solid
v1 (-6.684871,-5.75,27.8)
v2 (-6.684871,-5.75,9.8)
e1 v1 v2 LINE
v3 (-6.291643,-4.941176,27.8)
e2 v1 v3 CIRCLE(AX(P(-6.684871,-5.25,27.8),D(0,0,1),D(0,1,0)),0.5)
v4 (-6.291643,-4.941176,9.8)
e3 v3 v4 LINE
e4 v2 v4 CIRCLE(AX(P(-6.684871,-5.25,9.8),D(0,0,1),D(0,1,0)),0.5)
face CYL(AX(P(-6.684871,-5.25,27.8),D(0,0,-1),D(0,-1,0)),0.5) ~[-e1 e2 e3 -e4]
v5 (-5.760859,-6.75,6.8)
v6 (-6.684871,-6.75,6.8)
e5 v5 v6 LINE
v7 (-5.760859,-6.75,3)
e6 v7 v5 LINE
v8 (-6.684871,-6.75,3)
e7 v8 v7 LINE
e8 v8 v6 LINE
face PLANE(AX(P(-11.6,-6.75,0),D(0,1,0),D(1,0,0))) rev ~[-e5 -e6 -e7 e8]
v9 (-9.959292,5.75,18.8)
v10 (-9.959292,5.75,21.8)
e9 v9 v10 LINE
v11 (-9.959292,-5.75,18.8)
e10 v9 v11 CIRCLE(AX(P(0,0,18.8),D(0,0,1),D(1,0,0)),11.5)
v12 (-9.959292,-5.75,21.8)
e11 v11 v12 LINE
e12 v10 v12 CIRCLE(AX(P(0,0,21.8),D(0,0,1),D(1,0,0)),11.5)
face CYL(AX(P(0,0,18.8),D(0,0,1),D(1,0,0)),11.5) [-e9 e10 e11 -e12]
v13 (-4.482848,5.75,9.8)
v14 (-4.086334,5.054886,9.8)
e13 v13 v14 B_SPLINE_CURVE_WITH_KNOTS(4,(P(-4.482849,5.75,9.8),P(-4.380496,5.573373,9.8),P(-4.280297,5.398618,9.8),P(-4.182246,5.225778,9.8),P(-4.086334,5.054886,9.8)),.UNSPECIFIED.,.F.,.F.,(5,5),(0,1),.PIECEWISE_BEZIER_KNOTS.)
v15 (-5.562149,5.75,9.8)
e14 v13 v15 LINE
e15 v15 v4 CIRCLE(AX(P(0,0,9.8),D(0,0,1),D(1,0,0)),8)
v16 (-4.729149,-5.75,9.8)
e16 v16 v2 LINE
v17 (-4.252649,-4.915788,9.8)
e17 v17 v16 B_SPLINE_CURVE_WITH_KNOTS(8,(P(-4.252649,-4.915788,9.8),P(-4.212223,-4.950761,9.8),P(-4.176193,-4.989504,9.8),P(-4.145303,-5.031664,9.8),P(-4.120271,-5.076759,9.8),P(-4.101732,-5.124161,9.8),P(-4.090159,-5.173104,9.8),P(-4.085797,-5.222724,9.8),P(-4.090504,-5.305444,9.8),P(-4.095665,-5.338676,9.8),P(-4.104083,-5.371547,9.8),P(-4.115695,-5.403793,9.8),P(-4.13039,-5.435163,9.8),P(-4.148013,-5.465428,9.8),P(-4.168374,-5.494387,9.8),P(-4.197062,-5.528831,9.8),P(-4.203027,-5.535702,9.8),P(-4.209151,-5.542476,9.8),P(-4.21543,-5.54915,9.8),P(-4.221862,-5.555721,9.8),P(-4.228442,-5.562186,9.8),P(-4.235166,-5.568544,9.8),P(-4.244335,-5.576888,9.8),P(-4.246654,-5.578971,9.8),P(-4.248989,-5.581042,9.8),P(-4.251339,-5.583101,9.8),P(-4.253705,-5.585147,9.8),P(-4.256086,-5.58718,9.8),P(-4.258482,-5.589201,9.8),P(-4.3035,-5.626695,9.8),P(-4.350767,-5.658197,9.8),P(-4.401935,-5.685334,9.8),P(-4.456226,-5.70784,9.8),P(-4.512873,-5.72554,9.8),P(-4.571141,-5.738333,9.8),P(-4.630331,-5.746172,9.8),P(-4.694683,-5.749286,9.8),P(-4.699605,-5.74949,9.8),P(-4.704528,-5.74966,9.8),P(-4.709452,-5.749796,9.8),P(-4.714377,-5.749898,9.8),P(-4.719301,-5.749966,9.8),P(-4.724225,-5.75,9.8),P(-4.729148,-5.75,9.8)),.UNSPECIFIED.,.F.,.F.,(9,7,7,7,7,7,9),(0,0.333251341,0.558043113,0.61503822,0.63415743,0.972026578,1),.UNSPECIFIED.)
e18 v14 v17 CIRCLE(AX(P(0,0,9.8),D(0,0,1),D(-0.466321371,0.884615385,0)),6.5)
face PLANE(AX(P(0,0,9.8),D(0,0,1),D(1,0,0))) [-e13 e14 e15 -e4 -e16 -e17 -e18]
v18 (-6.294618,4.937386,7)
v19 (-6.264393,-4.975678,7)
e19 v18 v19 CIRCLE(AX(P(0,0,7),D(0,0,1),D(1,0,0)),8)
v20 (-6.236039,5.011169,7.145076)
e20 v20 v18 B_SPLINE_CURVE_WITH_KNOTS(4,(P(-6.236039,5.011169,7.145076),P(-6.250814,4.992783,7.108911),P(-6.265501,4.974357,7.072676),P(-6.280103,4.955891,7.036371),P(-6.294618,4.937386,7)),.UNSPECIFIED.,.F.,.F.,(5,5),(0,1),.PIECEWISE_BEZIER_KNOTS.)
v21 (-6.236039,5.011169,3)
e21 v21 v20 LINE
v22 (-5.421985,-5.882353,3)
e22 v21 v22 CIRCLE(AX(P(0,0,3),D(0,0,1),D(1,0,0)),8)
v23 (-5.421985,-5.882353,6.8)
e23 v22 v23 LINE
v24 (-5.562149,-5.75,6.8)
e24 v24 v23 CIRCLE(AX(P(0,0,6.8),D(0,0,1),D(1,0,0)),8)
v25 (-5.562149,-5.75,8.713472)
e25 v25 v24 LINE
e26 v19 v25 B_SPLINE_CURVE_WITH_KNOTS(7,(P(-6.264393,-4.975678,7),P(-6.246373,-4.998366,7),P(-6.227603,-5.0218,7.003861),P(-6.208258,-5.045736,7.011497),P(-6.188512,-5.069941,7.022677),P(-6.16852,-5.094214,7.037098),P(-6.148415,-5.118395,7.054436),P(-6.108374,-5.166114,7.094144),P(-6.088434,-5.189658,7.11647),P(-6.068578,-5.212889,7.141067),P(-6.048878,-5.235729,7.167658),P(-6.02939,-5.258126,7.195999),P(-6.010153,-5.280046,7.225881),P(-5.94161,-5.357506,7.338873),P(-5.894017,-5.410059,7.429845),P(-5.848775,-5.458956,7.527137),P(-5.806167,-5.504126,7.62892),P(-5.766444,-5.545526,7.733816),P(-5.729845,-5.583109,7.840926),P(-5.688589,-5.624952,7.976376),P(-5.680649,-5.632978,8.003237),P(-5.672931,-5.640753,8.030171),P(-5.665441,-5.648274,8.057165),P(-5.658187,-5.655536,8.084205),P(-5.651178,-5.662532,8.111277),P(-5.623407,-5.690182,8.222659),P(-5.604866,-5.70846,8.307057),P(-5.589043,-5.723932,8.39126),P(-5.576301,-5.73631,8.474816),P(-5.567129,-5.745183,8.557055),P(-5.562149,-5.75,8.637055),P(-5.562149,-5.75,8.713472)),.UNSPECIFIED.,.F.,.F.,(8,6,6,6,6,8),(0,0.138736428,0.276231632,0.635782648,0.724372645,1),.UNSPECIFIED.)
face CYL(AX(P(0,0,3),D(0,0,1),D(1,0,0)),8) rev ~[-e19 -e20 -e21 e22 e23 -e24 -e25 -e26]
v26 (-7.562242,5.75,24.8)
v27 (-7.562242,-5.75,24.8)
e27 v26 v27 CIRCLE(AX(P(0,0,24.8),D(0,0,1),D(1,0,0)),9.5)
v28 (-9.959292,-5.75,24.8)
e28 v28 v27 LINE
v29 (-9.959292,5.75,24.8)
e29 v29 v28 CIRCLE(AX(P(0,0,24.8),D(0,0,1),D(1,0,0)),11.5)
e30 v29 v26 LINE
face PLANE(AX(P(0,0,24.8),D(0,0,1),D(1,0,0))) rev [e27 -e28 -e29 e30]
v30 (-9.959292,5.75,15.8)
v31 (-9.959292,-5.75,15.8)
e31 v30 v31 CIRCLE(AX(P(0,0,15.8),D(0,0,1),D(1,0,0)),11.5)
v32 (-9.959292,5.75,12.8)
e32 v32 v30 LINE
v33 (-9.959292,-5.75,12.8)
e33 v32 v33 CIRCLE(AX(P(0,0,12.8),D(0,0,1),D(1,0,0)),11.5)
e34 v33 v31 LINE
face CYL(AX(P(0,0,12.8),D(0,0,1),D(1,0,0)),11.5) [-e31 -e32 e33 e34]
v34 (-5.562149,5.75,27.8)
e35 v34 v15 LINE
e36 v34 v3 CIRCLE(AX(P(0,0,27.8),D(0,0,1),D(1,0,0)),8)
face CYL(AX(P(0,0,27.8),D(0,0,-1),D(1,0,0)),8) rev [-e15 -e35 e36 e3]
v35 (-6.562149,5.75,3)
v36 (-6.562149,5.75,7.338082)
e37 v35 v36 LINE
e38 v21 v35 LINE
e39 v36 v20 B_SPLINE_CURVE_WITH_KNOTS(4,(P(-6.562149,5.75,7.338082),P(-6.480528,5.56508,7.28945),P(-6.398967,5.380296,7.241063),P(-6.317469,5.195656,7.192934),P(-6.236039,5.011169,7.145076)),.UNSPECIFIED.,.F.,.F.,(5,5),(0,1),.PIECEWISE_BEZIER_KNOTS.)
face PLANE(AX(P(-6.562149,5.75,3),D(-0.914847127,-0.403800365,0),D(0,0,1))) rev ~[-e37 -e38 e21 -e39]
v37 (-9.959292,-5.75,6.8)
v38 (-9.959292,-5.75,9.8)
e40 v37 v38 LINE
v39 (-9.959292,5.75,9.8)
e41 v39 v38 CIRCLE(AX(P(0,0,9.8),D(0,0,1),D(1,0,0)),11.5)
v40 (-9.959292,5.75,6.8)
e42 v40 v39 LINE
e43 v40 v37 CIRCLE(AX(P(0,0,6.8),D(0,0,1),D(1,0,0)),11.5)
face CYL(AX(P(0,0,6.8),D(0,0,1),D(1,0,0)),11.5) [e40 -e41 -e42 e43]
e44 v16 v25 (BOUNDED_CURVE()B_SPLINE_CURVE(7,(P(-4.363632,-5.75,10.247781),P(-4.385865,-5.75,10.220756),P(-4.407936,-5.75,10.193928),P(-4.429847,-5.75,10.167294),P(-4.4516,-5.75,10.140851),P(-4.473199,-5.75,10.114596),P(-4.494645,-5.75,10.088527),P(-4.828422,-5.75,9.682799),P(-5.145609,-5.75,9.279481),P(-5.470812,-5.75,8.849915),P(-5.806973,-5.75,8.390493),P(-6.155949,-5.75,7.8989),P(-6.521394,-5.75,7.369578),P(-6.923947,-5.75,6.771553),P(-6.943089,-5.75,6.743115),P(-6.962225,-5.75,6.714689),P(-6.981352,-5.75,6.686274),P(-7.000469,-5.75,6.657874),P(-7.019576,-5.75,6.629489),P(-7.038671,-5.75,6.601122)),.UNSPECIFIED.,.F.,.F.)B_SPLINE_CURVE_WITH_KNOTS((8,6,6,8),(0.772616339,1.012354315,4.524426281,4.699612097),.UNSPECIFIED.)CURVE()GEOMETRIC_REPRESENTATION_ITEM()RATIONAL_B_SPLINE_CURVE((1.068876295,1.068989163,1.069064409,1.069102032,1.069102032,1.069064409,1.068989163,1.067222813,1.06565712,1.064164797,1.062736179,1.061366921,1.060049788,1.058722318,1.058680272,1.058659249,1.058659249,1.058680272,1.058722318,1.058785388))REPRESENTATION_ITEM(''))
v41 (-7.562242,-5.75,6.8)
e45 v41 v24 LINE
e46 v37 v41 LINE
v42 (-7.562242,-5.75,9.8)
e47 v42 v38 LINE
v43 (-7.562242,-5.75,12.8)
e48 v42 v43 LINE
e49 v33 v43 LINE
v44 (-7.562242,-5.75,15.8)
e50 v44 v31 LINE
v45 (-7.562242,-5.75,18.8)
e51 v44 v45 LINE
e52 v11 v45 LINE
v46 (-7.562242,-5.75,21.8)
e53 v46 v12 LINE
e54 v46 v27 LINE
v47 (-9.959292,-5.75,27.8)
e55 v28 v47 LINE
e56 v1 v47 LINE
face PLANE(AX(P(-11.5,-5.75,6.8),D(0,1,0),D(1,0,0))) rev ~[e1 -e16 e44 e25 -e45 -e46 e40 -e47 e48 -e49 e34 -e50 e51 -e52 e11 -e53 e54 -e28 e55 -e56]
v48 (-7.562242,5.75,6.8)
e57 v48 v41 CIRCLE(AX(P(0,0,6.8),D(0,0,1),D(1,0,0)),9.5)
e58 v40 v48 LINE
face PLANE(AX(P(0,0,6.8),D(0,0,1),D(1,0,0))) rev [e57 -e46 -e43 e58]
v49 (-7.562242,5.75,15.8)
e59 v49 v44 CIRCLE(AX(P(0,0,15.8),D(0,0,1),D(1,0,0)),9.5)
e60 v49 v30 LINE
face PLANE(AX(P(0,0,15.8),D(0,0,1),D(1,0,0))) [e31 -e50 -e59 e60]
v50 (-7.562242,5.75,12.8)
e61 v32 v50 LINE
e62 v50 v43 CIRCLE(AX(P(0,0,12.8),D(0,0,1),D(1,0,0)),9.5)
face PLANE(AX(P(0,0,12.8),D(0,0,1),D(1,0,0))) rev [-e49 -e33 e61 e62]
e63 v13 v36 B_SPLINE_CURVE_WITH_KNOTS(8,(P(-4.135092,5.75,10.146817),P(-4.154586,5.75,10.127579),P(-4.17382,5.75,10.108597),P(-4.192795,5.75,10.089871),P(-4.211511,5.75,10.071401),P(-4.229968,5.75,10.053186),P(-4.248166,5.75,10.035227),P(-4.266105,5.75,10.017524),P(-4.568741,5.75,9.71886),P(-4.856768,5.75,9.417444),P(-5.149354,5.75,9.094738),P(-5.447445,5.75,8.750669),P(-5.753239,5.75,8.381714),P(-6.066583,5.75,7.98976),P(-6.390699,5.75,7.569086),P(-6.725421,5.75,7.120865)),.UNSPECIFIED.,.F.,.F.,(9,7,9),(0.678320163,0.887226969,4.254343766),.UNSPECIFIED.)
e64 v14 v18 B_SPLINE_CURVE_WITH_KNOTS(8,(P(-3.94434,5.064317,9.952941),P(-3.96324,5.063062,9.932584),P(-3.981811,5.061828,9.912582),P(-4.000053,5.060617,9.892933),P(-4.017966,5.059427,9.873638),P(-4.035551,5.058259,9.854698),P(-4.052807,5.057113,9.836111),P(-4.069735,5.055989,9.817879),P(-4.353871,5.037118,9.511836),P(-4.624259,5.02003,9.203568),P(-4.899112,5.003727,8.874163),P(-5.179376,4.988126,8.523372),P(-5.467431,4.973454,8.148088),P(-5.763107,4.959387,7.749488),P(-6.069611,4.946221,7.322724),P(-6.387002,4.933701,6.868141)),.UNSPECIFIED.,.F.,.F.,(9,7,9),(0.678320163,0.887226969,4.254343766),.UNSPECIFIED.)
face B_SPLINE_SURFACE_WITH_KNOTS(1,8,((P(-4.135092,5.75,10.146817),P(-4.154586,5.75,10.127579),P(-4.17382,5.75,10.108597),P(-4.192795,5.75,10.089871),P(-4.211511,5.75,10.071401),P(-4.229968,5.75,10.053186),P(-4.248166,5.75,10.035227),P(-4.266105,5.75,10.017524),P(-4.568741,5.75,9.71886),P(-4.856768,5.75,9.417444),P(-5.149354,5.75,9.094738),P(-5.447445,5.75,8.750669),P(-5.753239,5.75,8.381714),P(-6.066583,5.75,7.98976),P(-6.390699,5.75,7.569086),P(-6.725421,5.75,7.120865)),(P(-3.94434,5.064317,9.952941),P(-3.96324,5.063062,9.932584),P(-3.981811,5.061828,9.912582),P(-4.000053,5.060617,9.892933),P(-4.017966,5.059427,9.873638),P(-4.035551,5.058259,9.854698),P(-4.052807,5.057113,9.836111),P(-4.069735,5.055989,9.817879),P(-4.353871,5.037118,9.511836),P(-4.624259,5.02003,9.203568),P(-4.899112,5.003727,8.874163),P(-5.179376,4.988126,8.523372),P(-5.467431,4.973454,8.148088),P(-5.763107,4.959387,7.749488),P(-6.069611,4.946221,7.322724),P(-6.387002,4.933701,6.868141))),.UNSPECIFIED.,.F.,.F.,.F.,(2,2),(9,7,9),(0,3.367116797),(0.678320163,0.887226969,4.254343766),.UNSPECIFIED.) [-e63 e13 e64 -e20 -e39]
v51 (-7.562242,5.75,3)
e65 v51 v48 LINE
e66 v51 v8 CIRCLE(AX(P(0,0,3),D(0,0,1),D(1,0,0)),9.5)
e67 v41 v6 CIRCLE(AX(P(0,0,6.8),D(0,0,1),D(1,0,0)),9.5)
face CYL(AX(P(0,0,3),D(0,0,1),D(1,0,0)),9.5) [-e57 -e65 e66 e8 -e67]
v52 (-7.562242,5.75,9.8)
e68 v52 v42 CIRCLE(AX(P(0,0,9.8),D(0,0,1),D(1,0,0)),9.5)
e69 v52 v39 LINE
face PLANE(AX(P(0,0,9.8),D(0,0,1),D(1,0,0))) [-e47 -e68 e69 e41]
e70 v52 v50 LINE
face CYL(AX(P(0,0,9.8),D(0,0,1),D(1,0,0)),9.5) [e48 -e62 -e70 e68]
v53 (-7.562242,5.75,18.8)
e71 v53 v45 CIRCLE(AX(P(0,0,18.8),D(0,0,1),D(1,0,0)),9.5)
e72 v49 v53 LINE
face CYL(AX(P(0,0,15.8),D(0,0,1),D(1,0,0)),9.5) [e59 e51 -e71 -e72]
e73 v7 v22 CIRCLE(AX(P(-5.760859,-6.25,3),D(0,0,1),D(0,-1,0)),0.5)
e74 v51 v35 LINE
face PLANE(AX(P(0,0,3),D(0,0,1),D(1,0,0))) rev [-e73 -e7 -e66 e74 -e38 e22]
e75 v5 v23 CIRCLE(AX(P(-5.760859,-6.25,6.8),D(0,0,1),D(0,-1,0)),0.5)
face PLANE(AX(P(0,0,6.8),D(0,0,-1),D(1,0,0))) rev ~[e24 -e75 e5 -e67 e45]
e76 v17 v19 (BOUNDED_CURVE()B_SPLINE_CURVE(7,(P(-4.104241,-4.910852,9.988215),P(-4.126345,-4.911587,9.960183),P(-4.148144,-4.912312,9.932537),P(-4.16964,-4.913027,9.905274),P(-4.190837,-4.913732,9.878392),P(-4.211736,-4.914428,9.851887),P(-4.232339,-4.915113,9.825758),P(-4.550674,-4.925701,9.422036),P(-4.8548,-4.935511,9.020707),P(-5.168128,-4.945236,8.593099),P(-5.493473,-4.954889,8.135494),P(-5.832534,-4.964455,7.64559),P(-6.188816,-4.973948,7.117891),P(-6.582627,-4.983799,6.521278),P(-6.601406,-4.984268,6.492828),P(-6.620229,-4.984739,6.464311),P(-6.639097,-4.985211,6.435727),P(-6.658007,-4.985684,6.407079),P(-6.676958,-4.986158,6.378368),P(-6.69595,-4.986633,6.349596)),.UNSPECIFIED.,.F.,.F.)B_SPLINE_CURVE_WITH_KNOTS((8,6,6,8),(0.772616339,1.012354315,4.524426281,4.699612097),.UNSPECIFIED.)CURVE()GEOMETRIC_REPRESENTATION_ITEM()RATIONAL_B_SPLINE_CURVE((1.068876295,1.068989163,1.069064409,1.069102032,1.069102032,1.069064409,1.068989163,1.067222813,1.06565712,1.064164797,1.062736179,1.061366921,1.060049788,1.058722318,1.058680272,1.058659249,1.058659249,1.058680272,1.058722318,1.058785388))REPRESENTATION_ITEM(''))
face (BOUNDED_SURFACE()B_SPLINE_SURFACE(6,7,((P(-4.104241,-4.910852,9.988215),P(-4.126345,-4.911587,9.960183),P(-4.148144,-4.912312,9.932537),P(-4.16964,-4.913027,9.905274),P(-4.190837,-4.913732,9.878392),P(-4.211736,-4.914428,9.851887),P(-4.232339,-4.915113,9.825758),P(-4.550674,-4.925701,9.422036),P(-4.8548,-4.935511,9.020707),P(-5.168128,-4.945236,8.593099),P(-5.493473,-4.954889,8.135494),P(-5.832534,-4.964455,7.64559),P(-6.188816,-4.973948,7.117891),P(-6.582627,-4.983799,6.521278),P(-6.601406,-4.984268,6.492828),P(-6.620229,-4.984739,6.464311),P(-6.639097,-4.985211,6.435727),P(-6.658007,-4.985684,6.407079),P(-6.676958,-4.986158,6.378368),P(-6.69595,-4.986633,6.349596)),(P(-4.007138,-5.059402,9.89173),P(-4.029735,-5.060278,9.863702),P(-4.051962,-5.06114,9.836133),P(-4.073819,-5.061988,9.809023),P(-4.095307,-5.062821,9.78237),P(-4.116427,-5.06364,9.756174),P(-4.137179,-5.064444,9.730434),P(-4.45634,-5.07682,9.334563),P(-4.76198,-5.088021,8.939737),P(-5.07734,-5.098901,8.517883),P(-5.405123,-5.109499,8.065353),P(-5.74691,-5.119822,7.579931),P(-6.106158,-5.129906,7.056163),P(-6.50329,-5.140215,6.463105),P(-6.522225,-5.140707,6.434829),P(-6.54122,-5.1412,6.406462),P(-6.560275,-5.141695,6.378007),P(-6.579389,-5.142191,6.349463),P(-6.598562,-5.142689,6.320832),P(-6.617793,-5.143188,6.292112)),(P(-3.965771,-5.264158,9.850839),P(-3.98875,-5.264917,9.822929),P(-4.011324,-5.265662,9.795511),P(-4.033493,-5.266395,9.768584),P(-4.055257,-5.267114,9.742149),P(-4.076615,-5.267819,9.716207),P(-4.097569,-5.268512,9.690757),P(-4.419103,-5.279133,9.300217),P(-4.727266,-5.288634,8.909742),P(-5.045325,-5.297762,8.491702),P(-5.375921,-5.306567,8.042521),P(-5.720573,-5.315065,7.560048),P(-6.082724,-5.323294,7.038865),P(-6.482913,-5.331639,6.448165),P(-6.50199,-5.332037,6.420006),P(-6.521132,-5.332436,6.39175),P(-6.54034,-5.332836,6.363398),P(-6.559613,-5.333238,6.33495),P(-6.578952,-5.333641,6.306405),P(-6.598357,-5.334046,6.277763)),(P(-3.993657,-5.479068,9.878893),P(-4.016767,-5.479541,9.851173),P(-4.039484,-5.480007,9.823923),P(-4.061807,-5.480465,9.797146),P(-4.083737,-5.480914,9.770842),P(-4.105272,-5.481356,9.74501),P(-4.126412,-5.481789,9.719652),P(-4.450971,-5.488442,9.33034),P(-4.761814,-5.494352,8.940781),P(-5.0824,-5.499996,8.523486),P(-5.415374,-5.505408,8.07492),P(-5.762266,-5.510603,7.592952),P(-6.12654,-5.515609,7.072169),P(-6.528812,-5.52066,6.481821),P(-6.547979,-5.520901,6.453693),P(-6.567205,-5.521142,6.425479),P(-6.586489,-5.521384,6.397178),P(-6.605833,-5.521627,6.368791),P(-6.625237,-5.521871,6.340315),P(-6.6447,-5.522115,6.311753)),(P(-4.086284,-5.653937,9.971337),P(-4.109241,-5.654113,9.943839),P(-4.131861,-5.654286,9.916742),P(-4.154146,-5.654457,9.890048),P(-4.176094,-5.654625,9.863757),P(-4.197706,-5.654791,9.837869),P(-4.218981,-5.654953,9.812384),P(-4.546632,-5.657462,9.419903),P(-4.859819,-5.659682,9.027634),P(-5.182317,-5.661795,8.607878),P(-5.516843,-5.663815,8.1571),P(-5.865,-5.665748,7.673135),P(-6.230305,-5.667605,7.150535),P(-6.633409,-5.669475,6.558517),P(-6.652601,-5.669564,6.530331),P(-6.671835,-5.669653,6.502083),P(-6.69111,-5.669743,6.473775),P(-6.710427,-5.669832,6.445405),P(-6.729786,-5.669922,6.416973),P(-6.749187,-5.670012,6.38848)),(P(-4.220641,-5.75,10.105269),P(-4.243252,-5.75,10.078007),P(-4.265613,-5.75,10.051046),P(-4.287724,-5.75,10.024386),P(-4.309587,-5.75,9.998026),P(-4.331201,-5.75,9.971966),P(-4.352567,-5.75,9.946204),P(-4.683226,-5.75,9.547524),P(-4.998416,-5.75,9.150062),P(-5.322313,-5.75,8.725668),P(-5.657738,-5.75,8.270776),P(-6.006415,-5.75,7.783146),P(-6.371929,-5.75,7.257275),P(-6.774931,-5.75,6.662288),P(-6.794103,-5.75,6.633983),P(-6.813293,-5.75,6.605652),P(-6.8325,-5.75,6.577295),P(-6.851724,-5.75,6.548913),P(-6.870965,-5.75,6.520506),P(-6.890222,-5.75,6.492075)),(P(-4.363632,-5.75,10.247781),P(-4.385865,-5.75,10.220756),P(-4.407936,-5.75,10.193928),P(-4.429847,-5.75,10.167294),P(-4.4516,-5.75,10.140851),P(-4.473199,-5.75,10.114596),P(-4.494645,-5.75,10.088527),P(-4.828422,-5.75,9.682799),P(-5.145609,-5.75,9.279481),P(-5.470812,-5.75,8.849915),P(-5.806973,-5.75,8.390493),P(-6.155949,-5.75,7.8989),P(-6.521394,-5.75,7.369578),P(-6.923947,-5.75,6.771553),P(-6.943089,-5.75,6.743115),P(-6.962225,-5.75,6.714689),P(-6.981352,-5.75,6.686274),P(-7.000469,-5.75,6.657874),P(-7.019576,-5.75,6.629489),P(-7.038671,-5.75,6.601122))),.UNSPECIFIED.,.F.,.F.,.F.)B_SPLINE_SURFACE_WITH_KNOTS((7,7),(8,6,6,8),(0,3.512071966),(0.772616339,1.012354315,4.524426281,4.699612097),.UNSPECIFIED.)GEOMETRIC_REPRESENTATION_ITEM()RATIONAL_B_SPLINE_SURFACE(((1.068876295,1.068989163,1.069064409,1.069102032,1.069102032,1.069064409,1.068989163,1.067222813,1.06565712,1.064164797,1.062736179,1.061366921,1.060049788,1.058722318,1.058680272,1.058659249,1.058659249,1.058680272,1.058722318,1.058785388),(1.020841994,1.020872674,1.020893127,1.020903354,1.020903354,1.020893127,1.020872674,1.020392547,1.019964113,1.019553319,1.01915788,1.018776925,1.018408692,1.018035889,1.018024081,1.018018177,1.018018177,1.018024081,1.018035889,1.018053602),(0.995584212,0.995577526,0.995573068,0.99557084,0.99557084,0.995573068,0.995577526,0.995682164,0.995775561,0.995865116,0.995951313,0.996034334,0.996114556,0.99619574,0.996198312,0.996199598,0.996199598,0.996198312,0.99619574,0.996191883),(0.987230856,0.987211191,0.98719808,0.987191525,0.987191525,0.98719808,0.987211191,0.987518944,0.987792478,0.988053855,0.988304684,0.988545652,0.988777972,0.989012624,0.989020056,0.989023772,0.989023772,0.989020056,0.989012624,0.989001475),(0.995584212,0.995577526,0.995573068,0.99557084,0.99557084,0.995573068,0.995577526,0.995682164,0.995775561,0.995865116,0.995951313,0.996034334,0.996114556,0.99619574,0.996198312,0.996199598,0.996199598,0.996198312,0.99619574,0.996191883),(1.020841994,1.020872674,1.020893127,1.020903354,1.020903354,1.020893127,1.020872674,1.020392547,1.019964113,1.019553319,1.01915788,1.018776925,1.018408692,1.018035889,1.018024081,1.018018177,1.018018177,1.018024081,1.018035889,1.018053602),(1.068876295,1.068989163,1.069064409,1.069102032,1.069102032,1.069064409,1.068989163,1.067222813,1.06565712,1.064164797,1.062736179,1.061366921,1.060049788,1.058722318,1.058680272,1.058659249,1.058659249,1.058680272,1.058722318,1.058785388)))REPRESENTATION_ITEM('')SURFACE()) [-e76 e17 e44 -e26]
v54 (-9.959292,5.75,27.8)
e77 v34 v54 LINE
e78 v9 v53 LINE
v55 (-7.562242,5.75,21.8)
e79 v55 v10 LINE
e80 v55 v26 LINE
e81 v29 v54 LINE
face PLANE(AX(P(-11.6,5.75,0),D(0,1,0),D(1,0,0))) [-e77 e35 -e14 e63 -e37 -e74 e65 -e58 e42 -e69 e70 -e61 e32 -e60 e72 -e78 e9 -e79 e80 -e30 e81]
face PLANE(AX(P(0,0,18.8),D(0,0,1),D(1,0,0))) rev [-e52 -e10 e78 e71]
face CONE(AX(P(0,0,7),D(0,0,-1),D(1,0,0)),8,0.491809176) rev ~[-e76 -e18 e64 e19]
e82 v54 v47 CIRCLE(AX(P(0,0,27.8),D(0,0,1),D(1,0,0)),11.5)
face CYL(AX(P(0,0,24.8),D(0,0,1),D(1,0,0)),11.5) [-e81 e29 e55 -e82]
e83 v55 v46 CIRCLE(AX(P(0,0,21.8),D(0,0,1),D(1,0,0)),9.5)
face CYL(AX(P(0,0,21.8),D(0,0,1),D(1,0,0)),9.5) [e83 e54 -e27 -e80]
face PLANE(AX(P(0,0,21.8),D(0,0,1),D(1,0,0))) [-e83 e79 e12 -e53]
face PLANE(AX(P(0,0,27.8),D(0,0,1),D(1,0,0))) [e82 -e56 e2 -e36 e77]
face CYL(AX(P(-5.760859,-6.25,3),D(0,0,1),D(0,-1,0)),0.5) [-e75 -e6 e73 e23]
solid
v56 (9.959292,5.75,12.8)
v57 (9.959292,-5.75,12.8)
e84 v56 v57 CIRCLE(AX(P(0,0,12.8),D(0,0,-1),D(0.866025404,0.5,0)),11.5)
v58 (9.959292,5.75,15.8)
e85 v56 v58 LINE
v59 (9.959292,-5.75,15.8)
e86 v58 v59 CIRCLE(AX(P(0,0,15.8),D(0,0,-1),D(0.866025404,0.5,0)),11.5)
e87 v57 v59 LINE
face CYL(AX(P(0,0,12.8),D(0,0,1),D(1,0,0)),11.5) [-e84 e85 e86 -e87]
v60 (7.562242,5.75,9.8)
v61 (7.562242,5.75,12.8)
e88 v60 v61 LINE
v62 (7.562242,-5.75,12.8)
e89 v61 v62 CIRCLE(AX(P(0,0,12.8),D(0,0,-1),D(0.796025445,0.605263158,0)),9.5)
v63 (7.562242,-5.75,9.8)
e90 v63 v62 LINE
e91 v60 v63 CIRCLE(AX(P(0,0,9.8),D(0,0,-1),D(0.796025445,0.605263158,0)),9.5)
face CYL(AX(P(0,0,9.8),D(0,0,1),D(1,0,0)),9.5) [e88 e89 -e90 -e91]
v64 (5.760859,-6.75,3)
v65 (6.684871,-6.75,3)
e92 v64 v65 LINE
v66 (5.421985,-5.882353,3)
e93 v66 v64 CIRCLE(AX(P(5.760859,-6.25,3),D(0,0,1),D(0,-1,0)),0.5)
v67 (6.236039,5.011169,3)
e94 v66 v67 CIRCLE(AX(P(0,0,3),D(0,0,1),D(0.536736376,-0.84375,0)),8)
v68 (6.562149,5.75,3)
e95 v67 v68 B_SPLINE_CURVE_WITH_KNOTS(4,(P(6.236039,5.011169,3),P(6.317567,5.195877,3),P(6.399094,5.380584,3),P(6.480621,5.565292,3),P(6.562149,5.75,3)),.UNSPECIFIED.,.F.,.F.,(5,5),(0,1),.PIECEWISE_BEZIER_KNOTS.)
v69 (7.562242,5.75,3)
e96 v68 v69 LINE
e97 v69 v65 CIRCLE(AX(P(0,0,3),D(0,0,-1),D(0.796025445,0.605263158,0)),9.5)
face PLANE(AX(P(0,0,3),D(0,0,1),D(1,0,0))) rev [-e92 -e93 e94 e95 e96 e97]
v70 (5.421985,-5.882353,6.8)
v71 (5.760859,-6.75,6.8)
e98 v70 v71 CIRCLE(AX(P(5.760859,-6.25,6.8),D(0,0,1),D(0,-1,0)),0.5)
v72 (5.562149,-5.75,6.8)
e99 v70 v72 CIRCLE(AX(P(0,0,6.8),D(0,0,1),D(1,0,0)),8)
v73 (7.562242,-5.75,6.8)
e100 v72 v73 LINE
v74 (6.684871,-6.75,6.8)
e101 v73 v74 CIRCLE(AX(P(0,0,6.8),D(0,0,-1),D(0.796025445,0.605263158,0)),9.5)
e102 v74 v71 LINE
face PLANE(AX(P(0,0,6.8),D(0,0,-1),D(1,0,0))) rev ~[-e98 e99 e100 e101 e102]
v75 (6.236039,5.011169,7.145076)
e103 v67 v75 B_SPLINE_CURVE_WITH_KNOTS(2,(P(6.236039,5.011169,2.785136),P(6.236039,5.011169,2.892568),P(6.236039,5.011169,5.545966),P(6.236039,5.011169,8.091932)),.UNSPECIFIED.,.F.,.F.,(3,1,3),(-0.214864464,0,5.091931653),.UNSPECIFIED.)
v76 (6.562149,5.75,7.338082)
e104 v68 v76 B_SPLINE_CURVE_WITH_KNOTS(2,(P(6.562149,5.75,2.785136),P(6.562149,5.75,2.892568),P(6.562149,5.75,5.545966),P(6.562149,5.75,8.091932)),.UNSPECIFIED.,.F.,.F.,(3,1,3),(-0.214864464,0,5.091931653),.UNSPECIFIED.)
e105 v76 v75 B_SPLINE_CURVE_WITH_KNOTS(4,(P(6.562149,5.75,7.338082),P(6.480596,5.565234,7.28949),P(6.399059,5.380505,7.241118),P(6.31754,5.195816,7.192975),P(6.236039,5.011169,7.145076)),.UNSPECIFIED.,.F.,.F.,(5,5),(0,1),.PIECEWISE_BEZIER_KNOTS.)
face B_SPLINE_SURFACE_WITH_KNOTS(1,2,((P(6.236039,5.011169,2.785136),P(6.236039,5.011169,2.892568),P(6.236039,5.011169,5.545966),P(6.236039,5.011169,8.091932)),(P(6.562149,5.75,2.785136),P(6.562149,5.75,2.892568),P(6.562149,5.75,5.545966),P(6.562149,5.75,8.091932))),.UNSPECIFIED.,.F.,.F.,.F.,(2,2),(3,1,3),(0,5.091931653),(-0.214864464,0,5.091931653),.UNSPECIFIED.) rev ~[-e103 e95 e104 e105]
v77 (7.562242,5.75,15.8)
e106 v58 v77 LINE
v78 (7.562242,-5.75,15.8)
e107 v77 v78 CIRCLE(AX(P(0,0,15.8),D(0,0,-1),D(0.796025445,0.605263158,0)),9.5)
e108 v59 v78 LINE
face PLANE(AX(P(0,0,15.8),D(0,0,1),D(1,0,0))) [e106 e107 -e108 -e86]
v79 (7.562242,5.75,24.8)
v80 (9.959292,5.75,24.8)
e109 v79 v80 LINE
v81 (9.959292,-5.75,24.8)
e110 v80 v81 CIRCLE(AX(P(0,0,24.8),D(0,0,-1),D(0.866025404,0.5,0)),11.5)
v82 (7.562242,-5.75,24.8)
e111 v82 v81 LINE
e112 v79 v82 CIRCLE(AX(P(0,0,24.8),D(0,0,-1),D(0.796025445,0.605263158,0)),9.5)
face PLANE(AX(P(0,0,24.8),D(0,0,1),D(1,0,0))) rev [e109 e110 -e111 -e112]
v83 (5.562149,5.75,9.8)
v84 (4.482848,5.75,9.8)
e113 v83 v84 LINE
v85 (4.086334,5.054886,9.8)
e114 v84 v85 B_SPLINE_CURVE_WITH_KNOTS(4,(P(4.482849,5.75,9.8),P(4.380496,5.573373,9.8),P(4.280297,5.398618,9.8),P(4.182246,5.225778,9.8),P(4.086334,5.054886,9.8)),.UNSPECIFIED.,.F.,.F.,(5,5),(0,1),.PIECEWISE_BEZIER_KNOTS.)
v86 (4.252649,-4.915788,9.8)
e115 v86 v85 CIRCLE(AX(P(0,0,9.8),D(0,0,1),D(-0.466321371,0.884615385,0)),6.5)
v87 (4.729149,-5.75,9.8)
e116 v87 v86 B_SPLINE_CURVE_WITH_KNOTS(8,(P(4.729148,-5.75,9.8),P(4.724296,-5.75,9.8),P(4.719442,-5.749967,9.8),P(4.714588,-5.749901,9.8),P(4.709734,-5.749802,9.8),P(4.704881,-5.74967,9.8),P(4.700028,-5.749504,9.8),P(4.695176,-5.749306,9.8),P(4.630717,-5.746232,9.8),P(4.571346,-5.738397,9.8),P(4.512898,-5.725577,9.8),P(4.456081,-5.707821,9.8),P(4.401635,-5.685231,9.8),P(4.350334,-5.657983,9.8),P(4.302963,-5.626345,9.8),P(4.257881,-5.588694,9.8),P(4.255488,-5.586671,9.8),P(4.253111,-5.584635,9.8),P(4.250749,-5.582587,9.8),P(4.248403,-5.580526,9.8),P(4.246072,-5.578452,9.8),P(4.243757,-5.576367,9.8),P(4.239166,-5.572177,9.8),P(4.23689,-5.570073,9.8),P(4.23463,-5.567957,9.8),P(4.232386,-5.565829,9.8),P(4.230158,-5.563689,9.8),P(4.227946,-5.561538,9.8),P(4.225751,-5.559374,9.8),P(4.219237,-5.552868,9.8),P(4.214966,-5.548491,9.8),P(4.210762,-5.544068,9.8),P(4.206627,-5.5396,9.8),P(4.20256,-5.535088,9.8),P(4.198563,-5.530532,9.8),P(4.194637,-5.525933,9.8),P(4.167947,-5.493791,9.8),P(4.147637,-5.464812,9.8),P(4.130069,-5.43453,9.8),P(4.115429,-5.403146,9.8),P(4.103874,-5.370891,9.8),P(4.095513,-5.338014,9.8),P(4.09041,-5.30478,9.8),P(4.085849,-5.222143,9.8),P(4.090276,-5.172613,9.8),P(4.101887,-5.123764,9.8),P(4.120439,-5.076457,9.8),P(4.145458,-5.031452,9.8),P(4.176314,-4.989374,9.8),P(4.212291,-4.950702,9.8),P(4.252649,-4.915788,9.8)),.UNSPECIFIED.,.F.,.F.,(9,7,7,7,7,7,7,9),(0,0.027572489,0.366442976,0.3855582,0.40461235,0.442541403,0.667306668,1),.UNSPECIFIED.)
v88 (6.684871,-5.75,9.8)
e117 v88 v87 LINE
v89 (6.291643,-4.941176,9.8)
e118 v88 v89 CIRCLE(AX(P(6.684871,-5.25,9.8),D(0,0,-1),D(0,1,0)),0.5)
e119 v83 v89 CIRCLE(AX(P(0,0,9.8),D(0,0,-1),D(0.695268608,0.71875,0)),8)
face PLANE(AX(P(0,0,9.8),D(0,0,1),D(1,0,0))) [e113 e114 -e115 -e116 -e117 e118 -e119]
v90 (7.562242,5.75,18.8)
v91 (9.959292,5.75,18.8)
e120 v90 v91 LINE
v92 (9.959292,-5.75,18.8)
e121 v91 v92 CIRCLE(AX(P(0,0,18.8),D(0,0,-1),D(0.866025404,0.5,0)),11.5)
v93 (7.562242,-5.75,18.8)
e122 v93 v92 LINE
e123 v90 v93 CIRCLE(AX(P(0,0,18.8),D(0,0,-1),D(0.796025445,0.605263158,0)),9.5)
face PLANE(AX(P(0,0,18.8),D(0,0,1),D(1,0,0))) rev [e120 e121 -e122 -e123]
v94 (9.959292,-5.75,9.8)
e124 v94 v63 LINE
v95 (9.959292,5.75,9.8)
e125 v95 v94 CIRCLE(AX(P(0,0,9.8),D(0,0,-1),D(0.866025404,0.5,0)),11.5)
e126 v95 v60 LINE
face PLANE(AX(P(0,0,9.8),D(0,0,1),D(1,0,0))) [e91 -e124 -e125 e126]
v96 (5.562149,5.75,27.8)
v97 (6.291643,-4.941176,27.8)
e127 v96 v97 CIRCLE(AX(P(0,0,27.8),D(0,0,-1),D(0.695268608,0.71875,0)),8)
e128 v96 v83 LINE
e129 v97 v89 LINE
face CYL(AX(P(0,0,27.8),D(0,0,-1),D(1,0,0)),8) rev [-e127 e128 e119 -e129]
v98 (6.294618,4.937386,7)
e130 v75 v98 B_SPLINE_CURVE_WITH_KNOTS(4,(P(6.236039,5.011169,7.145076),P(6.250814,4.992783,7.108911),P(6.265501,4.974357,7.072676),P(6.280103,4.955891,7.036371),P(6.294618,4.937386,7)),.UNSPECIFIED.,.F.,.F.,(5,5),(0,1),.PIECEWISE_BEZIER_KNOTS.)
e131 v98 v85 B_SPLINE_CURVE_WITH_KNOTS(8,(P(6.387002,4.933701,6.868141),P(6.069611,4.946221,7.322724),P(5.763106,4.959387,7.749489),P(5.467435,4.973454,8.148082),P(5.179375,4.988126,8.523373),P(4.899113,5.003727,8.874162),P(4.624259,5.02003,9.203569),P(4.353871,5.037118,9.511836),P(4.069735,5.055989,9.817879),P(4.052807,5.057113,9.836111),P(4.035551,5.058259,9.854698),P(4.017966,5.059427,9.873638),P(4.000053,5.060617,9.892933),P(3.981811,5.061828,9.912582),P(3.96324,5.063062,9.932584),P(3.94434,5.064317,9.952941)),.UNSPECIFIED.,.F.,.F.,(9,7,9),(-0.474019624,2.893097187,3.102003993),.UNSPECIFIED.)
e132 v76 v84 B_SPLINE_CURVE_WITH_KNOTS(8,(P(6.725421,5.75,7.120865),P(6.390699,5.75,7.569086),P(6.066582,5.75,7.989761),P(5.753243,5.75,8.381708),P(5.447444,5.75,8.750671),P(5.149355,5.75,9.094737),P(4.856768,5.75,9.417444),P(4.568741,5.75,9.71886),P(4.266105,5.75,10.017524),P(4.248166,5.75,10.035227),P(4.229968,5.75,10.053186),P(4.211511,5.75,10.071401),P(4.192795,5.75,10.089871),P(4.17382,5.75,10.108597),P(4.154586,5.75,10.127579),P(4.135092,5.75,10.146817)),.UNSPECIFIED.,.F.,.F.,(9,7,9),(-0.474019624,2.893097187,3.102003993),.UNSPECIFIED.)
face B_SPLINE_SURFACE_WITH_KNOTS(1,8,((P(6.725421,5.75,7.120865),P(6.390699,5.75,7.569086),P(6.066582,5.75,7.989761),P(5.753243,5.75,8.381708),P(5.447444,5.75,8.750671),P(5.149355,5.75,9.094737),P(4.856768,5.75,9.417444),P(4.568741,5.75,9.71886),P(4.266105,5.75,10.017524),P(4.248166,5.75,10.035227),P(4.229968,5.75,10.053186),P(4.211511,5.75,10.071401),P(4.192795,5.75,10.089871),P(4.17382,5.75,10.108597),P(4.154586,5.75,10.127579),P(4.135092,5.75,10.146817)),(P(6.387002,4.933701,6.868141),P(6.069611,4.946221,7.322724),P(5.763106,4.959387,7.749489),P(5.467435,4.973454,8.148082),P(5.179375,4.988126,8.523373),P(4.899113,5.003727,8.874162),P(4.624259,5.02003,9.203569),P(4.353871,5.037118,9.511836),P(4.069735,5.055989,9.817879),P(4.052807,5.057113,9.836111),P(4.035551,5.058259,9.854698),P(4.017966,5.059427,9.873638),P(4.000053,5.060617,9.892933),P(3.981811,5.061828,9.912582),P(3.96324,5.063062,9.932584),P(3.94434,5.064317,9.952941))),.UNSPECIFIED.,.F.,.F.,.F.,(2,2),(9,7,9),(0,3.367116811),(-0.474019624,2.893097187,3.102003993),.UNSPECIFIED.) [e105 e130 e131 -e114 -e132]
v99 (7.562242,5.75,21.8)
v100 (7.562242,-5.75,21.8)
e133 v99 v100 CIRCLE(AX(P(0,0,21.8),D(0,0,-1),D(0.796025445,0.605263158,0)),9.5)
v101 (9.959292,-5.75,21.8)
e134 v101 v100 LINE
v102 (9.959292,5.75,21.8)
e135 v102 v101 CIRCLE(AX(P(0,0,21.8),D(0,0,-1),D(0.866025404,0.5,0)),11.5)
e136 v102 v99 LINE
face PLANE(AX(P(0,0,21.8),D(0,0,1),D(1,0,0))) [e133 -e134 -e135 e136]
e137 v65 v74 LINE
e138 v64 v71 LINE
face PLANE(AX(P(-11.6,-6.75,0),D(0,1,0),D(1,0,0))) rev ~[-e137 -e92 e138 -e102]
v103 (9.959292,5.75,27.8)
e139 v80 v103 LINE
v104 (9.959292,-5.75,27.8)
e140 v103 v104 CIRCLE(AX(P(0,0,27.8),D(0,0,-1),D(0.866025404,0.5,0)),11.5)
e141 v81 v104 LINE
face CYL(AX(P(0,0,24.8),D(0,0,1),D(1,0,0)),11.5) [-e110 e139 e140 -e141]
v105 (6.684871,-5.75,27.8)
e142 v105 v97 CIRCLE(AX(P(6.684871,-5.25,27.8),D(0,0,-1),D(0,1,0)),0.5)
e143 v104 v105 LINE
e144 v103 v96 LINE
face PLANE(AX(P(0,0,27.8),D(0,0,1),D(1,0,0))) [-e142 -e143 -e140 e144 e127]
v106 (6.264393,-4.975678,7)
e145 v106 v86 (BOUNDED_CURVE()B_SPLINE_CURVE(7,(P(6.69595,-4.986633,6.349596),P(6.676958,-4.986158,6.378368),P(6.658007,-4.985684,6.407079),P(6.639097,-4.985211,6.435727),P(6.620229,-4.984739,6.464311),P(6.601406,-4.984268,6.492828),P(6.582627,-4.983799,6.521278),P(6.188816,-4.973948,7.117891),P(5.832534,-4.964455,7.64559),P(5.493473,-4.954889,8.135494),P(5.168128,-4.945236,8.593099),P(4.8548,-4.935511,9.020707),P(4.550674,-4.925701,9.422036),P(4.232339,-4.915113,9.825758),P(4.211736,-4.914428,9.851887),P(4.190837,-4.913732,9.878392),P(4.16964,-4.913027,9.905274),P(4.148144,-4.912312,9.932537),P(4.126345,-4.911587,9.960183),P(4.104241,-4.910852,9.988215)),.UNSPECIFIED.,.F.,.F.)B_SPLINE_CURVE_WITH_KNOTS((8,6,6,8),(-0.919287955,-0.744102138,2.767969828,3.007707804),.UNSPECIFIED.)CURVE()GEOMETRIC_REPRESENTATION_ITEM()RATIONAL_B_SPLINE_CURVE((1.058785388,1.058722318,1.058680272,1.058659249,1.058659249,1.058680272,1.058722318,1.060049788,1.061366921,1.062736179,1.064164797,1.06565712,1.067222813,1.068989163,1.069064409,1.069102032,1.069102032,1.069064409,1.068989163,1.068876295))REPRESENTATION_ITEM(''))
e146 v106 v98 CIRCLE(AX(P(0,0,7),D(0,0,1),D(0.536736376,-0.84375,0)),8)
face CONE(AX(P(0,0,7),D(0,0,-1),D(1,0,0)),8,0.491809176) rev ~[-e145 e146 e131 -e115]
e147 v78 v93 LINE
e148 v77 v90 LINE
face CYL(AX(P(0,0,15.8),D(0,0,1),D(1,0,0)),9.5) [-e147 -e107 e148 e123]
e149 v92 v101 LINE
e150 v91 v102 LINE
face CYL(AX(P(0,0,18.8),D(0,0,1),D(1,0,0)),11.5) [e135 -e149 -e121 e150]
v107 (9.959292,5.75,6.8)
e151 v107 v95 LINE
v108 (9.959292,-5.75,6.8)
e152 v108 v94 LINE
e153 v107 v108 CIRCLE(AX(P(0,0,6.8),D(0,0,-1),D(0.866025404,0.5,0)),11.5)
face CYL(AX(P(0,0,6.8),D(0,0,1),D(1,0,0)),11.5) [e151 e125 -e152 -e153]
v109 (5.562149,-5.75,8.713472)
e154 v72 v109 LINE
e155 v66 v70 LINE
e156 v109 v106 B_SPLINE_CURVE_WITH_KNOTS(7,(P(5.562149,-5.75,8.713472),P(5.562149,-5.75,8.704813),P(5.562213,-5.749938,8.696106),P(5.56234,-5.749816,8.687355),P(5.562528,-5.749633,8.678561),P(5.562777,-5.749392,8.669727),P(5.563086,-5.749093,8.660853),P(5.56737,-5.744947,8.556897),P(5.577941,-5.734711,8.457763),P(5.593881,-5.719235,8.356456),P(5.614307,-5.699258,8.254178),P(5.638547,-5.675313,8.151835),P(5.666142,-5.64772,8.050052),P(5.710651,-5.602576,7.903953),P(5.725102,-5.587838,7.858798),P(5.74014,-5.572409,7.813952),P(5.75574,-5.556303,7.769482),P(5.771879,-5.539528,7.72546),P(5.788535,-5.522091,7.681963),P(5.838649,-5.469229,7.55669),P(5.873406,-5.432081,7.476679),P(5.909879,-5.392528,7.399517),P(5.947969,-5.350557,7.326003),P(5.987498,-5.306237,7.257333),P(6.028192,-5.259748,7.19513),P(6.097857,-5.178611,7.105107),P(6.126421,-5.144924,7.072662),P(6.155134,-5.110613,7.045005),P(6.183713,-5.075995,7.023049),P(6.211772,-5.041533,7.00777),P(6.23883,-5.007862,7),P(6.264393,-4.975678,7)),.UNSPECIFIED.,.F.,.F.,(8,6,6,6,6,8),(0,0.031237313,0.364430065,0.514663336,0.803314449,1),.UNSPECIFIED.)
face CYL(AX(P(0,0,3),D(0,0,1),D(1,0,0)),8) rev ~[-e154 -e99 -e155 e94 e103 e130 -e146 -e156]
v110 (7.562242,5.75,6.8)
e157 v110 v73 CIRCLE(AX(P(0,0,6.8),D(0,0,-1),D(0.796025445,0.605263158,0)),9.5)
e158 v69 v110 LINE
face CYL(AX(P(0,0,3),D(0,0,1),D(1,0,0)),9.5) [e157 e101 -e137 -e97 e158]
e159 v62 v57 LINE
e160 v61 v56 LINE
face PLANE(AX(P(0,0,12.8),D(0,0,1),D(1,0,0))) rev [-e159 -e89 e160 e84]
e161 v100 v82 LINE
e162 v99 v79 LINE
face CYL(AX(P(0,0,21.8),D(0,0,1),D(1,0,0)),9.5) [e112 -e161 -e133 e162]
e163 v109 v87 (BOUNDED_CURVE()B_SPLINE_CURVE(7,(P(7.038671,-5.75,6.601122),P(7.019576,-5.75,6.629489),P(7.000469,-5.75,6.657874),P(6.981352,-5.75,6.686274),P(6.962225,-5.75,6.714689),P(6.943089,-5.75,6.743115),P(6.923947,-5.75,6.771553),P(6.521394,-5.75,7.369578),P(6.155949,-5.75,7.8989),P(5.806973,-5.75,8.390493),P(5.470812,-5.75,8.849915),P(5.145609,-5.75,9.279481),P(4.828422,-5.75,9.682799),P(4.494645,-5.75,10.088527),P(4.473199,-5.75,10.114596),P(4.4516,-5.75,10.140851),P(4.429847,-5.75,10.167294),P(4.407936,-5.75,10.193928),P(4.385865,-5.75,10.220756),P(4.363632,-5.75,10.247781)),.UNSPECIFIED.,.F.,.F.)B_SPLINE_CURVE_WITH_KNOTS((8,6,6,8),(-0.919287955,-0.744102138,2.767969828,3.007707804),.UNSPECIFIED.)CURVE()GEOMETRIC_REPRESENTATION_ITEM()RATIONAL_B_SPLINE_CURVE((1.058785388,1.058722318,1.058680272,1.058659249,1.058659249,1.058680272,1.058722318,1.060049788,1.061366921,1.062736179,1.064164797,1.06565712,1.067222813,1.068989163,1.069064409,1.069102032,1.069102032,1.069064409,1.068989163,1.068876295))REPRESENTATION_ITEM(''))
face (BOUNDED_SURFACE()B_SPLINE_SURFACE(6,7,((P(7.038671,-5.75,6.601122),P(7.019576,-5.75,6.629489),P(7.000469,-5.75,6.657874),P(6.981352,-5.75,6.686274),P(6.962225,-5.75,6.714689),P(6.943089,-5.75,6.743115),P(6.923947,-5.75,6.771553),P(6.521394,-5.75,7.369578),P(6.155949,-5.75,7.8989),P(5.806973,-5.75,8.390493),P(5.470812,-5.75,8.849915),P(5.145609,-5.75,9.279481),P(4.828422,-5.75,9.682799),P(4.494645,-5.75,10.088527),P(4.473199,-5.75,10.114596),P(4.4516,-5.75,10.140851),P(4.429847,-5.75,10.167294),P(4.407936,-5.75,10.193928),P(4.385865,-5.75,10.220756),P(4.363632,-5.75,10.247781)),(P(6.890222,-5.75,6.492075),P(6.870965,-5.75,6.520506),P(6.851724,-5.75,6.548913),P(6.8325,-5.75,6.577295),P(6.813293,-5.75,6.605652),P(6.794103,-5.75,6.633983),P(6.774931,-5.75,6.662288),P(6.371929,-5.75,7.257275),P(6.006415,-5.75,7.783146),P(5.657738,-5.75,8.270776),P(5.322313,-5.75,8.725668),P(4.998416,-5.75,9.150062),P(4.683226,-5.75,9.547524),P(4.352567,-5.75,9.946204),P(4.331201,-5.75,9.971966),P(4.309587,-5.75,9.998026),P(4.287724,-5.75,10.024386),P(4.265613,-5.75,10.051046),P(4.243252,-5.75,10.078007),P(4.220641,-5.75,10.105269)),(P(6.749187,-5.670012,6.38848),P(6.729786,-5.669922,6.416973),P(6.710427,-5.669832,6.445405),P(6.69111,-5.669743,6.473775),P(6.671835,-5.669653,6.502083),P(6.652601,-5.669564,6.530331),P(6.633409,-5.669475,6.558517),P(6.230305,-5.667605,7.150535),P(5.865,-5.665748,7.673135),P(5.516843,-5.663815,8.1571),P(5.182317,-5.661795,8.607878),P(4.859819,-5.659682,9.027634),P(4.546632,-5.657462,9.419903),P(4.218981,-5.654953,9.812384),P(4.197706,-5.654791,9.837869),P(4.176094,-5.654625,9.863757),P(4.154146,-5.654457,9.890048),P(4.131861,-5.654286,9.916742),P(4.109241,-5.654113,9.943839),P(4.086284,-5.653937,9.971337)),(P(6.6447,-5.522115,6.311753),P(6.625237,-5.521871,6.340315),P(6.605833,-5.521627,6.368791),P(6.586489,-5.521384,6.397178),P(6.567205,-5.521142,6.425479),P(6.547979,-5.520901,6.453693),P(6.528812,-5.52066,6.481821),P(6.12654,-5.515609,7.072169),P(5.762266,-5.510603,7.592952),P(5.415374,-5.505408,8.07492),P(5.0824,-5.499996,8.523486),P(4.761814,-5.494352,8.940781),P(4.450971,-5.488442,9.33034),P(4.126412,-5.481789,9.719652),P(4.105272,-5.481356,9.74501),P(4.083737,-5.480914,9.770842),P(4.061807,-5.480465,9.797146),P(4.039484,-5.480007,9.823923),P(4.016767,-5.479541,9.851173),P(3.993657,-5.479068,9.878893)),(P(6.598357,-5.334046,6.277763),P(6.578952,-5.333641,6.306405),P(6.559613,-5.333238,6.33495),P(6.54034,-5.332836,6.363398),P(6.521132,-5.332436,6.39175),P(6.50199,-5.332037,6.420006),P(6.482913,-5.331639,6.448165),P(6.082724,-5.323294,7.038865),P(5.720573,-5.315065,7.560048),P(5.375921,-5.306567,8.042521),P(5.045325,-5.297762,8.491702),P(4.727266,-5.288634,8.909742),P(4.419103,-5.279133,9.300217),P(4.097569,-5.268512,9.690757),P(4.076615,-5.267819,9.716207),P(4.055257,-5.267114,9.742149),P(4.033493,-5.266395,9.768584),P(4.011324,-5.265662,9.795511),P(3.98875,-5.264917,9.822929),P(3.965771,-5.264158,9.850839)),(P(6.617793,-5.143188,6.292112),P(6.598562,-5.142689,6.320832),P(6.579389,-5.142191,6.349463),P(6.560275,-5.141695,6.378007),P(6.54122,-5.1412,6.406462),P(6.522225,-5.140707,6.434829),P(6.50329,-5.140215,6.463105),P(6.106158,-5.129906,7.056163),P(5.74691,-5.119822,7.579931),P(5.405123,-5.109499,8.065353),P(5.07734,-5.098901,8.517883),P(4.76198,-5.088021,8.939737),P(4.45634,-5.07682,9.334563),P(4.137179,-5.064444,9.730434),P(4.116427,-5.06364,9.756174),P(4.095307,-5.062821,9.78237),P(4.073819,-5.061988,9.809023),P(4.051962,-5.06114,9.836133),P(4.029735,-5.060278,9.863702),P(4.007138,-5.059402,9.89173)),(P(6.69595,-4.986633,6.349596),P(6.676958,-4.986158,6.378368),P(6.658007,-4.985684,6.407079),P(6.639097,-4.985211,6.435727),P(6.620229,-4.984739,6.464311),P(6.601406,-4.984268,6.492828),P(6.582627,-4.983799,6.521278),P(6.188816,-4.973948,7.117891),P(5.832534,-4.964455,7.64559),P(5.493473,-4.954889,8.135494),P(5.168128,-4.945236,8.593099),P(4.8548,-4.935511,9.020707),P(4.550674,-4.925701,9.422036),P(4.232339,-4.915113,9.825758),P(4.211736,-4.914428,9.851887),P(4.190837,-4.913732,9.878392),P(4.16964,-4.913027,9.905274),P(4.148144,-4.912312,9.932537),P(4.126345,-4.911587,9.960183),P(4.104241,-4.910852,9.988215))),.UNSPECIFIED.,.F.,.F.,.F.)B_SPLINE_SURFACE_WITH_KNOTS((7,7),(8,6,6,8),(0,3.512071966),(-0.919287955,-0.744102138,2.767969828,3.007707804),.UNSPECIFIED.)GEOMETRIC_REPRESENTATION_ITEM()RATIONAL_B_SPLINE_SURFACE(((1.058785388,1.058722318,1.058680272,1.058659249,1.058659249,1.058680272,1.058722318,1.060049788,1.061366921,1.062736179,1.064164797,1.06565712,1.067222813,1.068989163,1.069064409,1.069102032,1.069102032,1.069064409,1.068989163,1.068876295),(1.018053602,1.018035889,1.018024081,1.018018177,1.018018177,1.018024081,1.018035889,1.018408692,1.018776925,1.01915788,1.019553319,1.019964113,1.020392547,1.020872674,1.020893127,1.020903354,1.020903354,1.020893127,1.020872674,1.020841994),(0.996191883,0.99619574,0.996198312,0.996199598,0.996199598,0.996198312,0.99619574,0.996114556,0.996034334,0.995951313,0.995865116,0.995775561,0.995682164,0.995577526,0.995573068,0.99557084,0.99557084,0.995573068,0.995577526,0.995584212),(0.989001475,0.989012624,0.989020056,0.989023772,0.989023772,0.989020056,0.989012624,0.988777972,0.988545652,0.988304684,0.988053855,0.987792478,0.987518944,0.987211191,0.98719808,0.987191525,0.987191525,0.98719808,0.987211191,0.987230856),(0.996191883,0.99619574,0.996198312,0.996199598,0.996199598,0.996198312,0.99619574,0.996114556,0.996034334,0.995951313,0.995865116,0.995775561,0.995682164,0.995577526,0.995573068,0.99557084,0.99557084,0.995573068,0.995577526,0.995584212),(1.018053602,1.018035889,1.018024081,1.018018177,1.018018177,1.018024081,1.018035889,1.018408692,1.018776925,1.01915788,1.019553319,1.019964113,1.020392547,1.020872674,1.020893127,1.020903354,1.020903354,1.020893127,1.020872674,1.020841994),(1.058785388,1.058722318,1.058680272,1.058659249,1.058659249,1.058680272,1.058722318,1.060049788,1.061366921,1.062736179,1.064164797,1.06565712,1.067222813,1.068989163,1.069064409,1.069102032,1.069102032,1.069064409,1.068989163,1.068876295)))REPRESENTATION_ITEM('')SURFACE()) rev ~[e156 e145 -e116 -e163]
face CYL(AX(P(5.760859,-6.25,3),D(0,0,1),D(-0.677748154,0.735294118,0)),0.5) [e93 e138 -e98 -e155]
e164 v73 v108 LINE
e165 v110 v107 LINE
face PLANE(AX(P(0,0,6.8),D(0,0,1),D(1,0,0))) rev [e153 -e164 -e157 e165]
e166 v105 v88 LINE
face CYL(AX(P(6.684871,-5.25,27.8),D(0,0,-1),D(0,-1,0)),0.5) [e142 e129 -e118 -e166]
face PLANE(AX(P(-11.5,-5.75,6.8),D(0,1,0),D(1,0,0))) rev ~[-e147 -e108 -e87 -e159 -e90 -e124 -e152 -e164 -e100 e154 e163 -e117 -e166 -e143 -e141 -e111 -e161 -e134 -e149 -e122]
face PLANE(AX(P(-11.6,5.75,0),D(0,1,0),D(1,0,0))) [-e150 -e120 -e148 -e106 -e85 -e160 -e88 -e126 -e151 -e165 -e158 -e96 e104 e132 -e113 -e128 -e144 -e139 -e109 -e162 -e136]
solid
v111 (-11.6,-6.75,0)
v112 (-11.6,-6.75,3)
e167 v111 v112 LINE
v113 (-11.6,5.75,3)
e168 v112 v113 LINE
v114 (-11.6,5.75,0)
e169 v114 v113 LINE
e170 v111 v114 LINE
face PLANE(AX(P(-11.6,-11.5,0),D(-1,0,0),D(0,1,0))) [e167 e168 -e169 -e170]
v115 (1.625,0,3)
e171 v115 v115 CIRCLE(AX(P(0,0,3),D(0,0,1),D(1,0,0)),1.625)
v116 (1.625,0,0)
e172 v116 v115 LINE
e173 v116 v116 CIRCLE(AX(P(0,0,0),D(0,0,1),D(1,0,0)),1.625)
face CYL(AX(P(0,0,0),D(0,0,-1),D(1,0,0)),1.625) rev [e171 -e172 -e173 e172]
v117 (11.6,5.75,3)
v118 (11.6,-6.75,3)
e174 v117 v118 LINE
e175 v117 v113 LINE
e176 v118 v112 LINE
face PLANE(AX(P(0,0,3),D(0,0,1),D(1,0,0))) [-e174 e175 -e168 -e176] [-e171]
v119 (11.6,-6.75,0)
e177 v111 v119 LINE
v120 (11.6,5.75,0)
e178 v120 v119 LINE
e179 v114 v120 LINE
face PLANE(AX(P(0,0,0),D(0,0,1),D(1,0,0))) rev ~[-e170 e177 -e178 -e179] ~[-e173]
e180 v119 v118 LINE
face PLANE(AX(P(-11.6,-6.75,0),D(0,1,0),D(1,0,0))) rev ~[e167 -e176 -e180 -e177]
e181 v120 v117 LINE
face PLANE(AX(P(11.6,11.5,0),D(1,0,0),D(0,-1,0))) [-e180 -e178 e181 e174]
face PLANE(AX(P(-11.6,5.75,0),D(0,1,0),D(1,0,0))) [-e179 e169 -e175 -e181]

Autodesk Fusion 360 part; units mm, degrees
sketch "Sketch1" plane through (0, 0, 0) normal (0, 0, 1) x (1, 0, 0)
  line L0 (11.6, -11.5) -> (-11.6, -11.5)
  line L1 (-11.6, -11.5) -> (-11.6, 11.5)
  line L2 (-11.6, 11.5) -> (11.6, 11.5)
  line L3 (11.6, 11.5) -> (11.6, -11.5)
  line L4 (11.6, -11.5) -> (-11.6, 11.5) construction
  line L5 (-11.6, -11.5) -> (11.6, 11.5) construction
  circle A0 centre (0, 0) radius 1.625
  dimension "d1" = 23.2
  dimension "d2" = 23
  dimension "d29" = 3.25
extrude "Extrude2" add sketch "Sketch1" along normal blind 3 makes body 1
sketch "Sketch2" plane through (0, 0, 0) normal (0, 1, 0) x (1, 0, 0)
  line L0 (0, 0) -> (0, -3) construction
  line L1 (0, -3) -> (9.5, -3)
  line L2 (9.5, -3) -> (9.5, -6.8)
  line L3 (9.5, -6.8) -> (11.5, -6.8)
  line L4 (11.5, -6.8) -> (11.5, -9.8)
  line L5 (11.5, -9.8) -> (9.5, -9.8)
  line L6 (9.5, -9.8) -> (9.5, -12.8)
  line L7 (9.5, -12.8) -> (11.5, -12.8)
  line L8 (11.5, -12.8) -> (11.5, -15.8)
  line L9 (11.5, -15.8) -> (9.5, -15.8)
  line L10 (9.5, -15.8) -> (9.5, -18.8)
  line L11 (9.5, -18.8) -> (11.5, -18.8)
  line L12 (11.5, -18.8) -> (11.5, -21.8)
  line L13 (11.5, -21.8) -> (9.5, -21.8)
  line L14 (9.5, -21.8) -> (9.5, -24.8)
  line L15 (9.5, -24.8) -> (11.5, -24.8)
  line L16 (11.5, -24.8) -> (11.5, -27.8)
  line L17 (11.5, -27.8) -> (8, -27.8)
  line L18 (8, -27.8) -> (8, -9.8)
  line L19 (8, -9.8) -> (6.5, -9.8)
  line L20 (9.5, -3) -> (8, -3)
  line L21 (8, -3) -> (8, -7)
  line L22 (8, -7) -> (6.5, -9.8)
  dimension "d10" = 3
  dimension "d11" = 9.5
  dimension "d12" = 3.8
  dimension "d13" = 2
  dimension "d14" = 3
  dimension "d15" = 2
  dimension "d16" = 3
  dimension "d17" = 2
  dimension "d18" = 3
  dimension "d19" = 2
  dimension "d20" = 3
  dimension "d21" = 2
  dimension "d22" = 3
  dimension "d23" = 2
  dimension "d24" = 3
  dimension "d25" = 2
  dimension "d26" = 3
  dimension "d27" = 3.5
  dimension "d45" = 18
  dimension "d46" = 1.5
  dimension "d64" = 1.5
  dimension "d65" = 2.8
revolve "Revolve1" add sketch "Sketch2" angle 360 about axis through (0, 0, 1.75) along (0, 0, 1) makes body 2
sketch "Sketch3" plane through (0, 0, 0) normal (0, 0, 1) x (1, 0, 0)
  line L0 (0, 0) -> (-11.6, 0) construction
  line L1 (-11.6, 0) -> (-11.6, 5.75) construction
  line L2 (-11.6, 11.5) -> (-11.6, 5.75)
  line L3 (-11.6, 5.75) -> (11.6, 5.75)
  line L4 (11.6, 5.75) -> (11.6, 11.5)
  line L5 (11.6, 11.5) -> (-11.6, 11.5)
  line L6 (-11.6, 11.5) -> (-11.6, 5.75)
  line L7 (-11.6, 0) -> (-11.6, -6.75) construction
  line L8 (-11.6, -6.75) -> (11.6, -6.75)
  line L9 (11.6, -6.75) -> (11.6, -11.5)
  line L10 (11.6, -11.5) -> (-11.6, -11.5)
  line L11 (-11.6, -11.5) -> (-11.6, -6.75)
  dimension "d32" = 11.6
  dimension "d36" = 5.75
  dimension "d39" = 23.2
  dimension "d40" = 5.75
  dimension "d41" = 6.75
  dimension "d42" = 23.2
  dimension "d43" = 4.75
extrude "Extrude3" cut sketch "Sketch3" along normal through all bodies 1 2
sketch "Sketch5" plane through (0, 0, 6.8) normal (0, 0, -1) x (1, 0, 0)
  line L0 (-6.6849, 6.75) -> (-9.3106, 6.75)
  line L1 (-9.9593, -5.75) -> (-7.5622, -5.75)
  line L2 (0, 0) -> (0, 5.75) construction
  line L3 (0, 5.75) -> (-11.5, 5.75) construction
  line L4 (-11.5, 5.75) -> (11.5, 5.75)
  line L5 (11.5, 5.75) -> (11.5, 11.5)
  line L6 (11.5, 11.5) -> (-11.5, 11.5)
  line L7 (-11.5, 11.5) -> (-11.5, 5.75)
  dimension "d52" = 5.75
  dimension "d53" = 11.5
  dimension "d54" = 23
  dimension "d55" = 5.75
extrude "Extrude4" cut sketch "Sketch5" against normal through all bodies 2 makes body 3 at (-5.835, -5.473, 21.8)
fillet "Fillet4" radius 0.5 6 edges at (4.2939, -6.75, 4.9) (4.1945, -5.75, 8.6477) (5.5621, -5.75, 18.8) (-4.2939, -6.75, 4.9) (-4.1945, -5.75, 8.6477) (-5.5621, -5.75, 18.8) on bodies 2 3
chamfer "Chamfer1" distance 1 angle 45 4 edges at (5.5621, 5.75, 5) (4.2307, 5.75, 8.6078) (-5.5621, 5.75, 5) (-4.2307, 5.75, 8.6078) on bodies 2 3
